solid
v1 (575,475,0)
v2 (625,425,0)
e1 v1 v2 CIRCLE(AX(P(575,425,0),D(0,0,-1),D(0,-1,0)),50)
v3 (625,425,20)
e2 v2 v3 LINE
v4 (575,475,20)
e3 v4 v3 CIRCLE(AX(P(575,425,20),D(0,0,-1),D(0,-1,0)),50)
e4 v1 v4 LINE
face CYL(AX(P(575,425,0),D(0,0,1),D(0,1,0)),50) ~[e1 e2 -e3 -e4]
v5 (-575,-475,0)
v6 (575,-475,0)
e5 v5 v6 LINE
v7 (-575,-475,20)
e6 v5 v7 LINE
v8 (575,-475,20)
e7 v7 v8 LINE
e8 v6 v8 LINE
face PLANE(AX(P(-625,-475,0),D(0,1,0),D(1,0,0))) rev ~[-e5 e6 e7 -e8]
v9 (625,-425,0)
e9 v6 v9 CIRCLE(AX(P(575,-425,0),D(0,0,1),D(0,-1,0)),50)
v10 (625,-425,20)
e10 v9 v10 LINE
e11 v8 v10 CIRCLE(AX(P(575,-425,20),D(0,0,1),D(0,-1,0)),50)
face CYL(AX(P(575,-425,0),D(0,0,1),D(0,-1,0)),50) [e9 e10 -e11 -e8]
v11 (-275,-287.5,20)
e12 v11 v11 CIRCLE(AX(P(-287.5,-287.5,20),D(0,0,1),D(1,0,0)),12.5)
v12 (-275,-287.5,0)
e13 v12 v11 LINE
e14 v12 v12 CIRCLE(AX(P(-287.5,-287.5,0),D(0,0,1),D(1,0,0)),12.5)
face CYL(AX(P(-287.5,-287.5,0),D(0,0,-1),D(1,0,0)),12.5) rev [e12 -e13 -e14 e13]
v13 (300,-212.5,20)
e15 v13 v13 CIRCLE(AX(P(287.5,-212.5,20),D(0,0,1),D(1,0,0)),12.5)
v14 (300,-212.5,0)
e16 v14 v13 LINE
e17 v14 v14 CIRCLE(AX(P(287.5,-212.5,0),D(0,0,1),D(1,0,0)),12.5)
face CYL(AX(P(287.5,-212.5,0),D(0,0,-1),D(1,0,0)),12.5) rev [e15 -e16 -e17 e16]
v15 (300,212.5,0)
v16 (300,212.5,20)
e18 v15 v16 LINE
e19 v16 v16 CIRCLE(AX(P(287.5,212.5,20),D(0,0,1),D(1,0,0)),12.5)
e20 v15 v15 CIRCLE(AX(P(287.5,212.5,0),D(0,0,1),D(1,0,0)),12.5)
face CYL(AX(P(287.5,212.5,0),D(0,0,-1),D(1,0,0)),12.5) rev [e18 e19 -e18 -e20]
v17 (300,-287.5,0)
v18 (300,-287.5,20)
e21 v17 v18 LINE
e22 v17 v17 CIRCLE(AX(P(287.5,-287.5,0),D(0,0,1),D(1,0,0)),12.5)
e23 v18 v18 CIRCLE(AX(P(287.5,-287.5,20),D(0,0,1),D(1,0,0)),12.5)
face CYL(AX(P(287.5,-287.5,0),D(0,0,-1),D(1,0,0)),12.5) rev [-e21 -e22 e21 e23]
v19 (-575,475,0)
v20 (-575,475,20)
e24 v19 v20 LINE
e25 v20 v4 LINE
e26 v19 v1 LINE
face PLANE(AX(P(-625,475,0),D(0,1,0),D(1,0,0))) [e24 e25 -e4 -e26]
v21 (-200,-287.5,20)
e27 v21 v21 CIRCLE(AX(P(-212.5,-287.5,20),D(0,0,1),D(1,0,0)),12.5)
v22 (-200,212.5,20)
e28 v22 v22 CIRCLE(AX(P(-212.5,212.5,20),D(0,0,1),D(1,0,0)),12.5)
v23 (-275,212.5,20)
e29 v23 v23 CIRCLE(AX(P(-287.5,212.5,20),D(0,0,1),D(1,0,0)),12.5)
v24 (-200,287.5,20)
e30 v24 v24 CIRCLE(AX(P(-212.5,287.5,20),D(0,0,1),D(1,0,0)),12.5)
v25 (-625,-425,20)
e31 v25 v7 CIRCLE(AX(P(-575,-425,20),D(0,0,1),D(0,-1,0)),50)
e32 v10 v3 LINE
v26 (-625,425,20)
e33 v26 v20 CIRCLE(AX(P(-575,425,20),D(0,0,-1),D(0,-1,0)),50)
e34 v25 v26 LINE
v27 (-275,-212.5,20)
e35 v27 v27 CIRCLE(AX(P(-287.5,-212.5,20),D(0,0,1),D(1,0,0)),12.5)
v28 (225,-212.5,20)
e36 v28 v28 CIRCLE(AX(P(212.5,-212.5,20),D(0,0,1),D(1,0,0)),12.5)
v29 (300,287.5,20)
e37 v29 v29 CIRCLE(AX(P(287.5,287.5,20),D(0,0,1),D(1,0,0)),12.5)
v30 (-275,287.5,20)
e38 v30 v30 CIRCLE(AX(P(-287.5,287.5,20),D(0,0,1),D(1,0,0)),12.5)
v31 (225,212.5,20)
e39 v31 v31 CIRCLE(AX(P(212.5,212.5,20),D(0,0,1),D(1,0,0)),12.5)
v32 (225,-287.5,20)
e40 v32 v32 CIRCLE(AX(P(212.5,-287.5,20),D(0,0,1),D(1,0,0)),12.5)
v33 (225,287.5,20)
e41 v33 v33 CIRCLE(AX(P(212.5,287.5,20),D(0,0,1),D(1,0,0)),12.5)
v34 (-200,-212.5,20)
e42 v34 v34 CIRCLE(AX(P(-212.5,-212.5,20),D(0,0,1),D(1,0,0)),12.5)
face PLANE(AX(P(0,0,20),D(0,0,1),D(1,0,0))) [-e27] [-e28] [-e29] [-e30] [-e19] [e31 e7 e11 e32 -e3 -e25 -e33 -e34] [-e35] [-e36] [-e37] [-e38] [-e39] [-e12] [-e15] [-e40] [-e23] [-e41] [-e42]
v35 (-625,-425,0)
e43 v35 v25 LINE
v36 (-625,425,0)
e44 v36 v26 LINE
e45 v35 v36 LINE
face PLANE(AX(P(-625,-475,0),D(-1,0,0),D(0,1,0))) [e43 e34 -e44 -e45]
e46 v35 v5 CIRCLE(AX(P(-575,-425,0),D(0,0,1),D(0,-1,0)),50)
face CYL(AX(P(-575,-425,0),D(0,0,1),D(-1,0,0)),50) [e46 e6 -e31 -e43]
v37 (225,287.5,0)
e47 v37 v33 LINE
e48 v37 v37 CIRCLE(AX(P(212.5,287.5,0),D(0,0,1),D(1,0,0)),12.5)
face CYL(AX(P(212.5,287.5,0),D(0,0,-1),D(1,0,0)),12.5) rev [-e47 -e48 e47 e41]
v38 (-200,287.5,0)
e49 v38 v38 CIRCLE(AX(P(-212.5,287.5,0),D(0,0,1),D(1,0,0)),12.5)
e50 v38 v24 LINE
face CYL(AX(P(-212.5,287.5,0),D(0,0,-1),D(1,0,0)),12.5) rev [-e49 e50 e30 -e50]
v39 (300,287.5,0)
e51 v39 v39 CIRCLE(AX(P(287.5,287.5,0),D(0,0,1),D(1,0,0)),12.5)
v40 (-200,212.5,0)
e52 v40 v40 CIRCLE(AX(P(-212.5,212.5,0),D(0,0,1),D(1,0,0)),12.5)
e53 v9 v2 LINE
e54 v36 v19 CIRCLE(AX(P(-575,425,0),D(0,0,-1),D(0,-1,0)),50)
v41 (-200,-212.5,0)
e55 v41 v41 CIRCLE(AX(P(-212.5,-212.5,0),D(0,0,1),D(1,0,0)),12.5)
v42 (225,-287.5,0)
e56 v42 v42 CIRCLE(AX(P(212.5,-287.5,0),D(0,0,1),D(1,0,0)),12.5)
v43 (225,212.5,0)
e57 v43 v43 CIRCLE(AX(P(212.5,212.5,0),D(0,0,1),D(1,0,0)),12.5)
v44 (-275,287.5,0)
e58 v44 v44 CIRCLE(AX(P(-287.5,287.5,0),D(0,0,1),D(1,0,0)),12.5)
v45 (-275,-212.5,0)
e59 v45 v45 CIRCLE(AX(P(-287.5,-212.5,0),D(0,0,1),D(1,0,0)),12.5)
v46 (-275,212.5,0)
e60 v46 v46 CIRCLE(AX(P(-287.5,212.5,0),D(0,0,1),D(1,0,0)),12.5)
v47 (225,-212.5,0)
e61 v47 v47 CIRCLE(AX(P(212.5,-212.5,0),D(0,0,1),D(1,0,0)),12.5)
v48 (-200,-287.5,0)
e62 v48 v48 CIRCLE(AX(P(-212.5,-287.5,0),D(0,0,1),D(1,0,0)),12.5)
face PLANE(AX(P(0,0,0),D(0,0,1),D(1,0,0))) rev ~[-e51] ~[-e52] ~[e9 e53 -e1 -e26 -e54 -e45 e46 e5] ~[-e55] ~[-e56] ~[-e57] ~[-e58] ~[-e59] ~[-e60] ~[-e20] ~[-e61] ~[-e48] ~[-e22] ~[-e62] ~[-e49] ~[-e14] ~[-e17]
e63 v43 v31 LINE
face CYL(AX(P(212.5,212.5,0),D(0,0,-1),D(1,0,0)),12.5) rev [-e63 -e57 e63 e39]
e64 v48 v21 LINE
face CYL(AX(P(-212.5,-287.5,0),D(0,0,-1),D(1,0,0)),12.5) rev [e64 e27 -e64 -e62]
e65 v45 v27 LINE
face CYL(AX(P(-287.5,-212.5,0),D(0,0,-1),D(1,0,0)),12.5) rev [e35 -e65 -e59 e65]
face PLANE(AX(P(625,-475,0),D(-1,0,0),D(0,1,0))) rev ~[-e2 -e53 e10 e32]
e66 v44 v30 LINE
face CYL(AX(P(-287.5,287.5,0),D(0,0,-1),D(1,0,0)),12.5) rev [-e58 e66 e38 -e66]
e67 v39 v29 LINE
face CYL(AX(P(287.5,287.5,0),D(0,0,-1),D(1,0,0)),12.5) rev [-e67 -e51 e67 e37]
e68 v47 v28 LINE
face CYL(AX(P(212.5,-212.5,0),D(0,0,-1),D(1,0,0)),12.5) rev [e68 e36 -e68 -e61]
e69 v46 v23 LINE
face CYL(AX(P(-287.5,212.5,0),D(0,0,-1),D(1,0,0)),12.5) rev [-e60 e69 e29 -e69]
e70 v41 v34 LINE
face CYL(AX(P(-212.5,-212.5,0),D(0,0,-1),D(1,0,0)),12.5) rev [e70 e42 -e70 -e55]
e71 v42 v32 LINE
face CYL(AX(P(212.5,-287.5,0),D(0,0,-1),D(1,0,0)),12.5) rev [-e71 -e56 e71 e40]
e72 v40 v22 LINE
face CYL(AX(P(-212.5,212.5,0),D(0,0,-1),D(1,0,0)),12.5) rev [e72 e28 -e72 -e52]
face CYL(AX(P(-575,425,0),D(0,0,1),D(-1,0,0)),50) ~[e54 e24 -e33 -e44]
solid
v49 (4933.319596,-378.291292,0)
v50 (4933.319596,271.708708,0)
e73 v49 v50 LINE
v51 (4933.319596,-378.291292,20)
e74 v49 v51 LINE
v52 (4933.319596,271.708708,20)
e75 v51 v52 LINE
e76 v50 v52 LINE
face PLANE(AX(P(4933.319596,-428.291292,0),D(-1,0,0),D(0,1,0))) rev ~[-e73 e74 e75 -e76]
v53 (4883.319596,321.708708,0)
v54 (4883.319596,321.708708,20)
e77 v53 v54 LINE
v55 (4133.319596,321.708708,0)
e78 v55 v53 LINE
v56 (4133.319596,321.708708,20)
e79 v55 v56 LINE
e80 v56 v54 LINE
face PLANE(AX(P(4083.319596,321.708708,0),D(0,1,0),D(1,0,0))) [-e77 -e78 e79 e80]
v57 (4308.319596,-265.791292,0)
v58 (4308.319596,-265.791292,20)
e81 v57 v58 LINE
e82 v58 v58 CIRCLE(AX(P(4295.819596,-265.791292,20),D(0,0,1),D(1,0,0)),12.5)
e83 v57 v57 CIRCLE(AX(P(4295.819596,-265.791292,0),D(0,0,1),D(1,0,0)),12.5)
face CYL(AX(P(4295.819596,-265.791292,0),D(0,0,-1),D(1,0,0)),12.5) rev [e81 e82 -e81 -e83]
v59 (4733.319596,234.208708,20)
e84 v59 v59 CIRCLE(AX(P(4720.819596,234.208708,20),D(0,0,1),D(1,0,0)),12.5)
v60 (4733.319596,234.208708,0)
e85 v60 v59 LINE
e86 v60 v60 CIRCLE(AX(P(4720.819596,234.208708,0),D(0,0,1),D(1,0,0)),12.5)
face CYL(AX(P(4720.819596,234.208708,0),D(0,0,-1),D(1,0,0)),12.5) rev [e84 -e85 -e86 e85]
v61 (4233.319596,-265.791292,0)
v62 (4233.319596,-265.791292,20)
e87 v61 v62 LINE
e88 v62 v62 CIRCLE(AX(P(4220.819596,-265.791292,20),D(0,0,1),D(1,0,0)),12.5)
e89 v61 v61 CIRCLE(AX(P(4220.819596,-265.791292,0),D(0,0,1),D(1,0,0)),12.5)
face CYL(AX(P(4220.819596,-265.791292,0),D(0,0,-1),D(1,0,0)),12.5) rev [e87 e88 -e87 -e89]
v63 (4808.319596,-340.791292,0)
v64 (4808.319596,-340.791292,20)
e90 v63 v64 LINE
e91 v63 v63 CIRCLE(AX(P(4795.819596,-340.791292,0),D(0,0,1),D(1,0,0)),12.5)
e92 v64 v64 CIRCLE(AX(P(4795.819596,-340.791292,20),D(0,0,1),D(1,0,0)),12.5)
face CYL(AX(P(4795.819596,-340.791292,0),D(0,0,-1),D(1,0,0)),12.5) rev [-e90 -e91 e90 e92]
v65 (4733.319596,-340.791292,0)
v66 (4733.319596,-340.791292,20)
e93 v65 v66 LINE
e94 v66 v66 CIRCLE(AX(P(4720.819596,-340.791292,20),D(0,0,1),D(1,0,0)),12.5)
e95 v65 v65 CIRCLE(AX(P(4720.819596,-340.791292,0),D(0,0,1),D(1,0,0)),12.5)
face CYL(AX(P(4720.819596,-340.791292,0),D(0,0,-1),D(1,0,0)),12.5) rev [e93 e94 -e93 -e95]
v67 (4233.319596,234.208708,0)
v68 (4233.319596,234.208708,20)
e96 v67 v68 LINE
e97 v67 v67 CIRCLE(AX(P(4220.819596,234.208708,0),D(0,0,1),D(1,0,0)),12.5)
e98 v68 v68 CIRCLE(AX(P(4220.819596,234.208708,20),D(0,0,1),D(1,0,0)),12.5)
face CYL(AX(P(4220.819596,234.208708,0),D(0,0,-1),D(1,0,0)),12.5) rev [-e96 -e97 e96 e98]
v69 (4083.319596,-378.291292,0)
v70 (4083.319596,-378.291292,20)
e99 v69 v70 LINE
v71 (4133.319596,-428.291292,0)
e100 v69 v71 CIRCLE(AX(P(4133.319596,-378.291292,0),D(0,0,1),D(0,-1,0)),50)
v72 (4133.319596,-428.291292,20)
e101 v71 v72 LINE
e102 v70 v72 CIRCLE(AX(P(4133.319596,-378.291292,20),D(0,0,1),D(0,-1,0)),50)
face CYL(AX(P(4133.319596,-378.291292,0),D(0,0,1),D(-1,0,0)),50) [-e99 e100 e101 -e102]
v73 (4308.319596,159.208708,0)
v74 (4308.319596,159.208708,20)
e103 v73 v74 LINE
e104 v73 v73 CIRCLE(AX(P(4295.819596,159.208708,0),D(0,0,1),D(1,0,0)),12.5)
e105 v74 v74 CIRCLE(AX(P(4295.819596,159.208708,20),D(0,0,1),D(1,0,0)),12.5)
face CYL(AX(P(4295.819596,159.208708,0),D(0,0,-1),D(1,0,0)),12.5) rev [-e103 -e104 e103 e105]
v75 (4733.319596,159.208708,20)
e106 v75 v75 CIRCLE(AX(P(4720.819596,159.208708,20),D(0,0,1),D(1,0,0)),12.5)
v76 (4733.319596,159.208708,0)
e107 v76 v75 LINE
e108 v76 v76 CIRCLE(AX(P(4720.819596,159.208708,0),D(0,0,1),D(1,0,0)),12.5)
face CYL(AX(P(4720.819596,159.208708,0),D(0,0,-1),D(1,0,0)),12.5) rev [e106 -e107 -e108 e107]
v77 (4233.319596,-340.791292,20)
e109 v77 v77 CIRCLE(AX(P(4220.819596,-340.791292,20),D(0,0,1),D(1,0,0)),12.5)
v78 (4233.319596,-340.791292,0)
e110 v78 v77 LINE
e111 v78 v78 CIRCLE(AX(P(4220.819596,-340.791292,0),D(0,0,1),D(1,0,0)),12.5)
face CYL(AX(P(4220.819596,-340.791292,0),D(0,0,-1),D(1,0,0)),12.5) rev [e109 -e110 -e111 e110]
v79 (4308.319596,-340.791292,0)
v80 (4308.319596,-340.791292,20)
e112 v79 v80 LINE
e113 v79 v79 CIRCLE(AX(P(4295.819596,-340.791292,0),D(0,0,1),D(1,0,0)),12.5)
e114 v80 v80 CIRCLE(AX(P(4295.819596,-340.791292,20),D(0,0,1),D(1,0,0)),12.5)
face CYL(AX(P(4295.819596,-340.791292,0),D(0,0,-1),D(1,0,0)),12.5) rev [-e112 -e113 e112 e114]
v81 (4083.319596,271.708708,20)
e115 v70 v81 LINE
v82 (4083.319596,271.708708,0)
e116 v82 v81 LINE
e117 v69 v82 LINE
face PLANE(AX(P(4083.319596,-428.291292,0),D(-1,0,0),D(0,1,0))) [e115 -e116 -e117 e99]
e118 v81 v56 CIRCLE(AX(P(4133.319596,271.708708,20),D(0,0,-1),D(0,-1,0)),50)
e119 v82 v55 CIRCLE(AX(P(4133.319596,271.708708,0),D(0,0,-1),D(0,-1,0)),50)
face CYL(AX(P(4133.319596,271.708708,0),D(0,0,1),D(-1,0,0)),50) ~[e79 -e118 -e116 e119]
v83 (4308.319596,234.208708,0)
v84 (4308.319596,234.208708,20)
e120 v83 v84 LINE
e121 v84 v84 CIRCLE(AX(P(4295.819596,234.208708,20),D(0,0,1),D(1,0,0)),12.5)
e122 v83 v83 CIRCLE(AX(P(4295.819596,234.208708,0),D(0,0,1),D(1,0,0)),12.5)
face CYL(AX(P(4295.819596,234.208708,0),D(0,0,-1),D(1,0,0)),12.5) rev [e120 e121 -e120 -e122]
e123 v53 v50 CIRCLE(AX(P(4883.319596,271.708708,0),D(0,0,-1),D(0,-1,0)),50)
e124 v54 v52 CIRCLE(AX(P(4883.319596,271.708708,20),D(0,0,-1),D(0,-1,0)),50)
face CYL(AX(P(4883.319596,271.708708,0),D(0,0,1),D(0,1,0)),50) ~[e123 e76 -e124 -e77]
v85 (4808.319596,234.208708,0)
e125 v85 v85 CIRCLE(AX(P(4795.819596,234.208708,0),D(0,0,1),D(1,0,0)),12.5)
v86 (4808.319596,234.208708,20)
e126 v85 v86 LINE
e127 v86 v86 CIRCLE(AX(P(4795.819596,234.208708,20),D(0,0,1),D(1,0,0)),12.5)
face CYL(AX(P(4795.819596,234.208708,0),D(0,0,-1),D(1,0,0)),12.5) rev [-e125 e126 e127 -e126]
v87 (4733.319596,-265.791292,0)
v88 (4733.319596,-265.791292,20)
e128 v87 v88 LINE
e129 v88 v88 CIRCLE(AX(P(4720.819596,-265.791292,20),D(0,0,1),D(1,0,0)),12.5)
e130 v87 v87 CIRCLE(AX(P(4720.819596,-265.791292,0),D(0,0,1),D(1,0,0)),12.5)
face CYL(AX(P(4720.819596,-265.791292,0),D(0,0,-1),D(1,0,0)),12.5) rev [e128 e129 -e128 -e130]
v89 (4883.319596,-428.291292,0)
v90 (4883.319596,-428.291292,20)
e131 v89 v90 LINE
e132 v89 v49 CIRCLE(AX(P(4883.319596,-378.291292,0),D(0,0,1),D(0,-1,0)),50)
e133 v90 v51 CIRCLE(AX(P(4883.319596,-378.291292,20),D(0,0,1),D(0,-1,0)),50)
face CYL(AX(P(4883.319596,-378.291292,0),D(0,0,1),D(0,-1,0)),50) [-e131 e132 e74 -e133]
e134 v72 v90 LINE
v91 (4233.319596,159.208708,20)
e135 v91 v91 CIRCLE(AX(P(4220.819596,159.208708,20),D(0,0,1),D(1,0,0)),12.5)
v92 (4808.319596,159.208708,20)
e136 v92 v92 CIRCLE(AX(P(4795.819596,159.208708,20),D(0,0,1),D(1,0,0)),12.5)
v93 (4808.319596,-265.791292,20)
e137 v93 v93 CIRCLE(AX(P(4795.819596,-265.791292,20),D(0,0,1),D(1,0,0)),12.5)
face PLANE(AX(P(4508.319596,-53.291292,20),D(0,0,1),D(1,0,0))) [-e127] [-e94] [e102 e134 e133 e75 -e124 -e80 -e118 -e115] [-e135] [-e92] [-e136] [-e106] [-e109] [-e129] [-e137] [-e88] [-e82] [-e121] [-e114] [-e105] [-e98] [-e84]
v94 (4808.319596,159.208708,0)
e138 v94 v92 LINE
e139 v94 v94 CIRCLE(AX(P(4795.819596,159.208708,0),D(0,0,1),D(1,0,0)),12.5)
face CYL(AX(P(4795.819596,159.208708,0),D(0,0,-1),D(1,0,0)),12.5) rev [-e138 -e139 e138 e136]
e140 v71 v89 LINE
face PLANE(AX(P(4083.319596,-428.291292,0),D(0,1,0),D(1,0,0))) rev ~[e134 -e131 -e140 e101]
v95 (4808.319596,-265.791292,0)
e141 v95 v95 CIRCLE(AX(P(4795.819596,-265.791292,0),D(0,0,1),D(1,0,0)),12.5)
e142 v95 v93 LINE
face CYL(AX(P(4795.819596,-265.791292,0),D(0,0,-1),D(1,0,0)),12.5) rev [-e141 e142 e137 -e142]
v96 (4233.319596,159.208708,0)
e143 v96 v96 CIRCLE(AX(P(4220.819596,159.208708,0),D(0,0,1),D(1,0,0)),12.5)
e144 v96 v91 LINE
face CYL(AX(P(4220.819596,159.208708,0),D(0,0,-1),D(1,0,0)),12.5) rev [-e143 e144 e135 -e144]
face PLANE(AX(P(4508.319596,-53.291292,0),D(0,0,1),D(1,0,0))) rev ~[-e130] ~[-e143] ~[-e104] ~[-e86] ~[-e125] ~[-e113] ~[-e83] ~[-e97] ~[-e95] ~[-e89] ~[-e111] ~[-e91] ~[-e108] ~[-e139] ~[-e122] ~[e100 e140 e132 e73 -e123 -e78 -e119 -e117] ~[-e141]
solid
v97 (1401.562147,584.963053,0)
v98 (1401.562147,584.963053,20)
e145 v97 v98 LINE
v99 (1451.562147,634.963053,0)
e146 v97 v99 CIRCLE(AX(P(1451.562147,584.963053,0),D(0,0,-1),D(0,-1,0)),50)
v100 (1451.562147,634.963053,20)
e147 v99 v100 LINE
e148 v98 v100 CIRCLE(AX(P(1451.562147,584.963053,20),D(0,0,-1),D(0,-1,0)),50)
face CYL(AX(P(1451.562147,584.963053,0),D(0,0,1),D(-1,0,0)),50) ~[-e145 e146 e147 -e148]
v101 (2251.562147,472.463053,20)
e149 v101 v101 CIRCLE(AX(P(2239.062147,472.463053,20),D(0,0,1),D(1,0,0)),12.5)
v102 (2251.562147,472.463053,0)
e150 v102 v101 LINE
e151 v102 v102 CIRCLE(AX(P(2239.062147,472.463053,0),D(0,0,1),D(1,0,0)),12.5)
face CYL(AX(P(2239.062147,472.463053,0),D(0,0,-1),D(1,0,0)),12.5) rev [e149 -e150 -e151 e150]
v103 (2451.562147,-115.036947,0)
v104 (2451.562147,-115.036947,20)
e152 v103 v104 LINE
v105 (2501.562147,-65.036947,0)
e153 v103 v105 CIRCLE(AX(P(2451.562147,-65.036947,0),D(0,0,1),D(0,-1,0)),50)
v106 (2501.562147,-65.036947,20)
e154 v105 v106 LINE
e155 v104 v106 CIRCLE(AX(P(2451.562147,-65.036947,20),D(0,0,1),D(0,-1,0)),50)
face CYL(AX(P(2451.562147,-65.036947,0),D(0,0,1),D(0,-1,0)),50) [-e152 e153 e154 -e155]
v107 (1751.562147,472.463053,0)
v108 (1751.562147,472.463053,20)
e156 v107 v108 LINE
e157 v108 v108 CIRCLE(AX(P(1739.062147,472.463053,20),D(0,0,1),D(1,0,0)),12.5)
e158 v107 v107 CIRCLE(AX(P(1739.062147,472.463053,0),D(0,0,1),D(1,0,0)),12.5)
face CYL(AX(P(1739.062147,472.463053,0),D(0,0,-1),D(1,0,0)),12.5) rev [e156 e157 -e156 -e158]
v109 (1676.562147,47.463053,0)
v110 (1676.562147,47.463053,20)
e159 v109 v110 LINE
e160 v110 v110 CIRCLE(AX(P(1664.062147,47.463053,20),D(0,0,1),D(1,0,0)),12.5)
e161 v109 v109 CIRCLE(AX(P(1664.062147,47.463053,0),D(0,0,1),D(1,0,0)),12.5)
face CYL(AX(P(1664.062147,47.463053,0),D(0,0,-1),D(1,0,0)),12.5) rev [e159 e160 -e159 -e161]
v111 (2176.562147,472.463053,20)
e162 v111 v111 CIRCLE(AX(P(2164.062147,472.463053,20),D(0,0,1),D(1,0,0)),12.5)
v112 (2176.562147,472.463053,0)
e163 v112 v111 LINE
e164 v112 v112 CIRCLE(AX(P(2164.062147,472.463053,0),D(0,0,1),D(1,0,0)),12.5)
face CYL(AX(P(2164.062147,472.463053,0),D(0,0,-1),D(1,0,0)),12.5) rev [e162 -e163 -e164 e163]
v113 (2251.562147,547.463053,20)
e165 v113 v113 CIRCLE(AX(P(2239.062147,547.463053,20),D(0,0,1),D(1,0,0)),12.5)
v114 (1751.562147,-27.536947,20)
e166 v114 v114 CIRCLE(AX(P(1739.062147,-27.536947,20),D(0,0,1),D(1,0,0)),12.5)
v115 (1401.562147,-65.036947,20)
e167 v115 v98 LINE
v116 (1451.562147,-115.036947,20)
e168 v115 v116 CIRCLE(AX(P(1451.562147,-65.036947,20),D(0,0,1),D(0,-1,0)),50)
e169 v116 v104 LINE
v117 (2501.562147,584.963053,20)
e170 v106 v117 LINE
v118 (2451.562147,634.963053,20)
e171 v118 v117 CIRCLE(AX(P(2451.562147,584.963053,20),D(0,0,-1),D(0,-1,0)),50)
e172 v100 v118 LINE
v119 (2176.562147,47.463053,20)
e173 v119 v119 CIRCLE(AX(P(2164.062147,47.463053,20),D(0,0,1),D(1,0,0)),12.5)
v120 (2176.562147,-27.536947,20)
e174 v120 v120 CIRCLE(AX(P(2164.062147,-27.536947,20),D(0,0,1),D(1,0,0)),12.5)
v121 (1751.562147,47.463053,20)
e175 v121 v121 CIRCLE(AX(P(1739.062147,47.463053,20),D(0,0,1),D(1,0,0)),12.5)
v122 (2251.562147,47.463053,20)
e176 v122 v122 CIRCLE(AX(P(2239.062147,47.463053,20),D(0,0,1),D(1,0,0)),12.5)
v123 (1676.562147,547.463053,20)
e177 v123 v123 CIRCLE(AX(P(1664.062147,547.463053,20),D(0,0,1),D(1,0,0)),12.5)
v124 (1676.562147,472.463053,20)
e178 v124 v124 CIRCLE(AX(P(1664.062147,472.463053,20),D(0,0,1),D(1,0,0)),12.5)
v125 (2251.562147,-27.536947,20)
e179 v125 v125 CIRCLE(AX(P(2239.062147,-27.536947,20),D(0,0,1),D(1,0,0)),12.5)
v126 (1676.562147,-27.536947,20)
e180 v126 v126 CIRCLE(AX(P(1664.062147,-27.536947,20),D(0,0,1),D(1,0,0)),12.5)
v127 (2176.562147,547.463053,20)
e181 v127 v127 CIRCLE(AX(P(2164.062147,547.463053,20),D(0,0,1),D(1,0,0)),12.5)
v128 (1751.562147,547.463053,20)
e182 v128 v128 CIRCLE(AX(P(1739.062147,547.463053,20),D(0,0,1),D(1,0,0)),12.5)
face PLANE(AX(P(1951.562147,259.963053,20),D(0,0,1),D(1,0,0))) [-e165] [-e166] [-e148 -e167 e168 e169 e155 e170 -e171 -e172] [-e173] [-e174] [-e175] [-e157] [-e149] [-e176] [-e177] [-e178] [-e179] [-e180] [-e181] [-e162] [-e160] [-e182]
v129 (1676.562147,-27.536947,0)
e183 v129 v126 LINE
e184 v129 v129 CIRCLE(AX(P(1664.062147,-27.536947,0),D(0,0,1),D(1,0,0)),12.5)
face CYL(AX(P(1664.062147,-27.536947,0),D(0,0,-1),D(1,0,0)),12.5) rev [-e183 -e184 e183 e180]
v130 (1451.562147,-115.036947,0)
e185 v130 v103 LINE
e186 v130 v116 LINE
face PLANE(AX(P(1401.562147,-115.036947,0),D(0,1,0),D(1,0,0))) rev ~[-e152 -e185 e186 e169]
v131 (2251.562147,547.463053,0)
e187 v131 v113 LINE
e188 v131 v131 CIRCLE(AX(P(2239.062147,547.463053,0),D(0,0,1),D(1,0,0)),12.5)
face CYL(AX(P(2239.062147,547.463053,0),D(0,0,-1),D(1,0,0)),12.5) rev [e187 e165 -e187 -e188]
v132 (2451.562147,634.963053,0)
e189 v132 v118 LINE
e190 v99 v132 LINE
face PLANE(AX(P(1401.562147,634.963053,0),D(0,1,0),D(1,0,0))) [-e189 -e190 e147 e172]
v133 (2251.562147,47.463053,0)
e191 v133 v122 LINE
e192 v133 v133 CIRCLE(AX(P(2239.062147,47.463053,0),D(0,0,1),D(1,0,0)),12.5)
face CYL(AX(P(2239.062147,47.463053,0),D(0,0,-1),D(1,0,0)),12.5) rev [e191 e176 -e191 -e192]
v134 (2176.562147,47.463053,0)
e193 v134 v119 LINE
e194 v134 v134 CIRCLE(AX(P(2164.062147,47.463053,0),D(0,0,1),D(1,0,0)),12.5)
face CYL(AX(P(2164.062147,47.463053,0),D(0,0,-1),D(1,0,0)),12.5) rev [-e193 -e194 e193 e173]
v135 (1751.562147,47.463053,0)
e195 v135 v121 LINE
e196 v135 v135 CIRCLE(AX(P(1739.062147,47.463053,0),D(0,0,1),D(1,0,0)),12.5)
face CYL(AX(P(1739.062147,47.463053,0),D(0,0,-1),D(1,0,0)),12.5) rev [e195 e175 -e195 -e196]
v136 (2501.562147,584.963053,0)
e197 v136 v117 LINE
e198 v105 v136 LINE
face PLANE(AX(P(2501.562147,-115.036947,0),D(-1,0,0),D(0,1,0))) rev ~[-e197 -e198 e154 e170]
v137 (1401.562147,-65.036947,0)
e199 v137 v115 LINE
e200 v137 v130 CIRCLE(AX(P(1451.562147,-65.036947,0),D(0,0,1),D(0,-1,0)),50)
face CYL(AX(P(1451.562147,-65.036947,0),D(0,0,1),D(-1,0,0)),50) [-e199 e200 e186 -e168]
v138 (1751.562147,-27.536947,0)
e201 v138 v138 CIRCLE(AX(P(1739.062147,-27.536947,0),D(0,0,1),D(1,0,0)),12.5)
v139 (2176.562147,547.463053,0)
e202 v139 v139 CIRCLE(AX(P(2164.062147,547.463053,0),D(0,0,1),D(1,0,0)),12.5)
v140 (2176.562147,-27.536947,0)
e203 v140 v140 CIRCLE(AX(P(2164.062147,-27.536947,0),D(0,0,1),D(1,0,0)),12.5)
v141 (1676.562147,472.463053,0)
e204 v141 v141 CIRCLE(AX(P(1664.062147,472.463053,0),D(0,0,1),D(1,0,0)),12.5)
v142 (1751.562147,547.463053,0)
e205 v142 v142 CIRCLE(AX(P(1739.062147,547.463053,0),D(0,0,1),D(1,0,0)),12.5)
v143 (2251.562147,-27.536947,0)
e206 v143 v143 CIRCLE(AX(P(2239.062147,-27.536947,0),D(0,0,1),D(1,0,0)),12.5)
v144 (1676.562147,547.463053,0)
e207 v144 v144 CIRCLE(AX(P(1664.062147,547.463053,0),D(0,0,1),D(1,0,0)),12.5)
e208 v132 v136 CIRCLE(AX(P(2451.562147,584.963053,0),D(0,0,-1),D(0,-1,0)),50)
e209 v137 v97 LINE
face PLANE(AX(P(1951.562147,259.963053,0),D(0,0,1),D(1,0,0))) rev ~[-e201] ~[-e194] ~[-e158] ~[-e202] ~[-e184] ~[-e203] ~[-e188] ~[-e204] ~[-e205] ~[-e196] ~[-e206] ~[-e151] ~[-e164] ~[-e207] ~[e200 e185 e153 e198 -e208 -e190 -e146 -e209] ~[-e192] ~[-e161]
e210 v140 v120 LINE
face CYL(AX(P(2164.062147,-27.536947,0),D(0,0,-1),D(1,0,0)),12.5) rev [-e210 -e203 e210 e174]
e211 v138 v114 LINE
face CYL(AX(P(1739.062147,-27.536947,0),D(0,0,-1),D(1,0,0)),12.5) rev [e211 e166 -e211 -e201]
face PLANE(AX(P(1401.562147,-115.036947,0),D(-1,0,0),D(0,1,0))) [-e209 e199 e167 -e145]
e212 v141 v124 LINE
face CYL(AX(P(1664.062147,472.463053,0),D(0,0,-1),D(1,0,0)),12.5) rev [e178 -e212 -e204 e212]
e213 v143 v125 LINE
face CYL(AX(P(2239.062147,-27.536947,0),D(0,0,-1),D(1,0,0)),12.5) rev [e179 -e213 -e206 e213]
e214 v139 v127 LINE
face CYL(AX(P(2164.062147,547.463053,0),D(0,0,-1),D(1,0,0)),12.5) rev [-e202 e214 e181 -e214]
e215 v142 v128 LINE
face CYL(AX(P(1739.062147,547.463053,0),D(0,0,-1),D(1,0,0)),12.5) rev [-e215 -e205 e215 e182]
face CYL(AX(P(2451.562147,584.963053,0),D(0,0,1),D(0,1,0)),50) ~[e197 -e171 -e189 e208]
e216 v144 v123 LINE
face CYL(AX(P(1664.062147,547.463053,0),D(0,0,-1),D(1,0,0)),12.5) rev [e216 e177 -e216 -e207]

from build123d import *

# Parameters (mm, degrees)
F0_W     = 1250
F0_H     = 950
F0_R     = 12.5
F1_DEPTH = 20
F2_R     = 50
F3_W     = 1100
F3_H     = 750
F3_R     = 12.5
F4_DEPTH = 20
F5_R     = 50
F6_W     = 850
F6_H     = 750
F6_R     = 12.5
F7_DEPTH = 20
F8_R     = 50


with BuildPart() as f1:
    # F0 (on Top) → F1 (new body)
    with BuildSketch(Plane.XY):
        Rectangle(F0_W, F0_H)
        with Locations((-287.5, -287.5)):
            Circle(F0_R, mode=Mode.SUBTRACT)
        with Locations((-212.5, -287.5)):
            Circle(F0_R, mode=Mode.SUBTRACT)
        with Locations((-287.5, -212.5)):
            Circle(F0_R, mode=Mode.SUBTRACT)
        with Locations((-212.5, -212.5)):
            Circle(F0_R, mode=Mode.SUBTRACT)
        with Locations((212.5, -287.5)):
            Circle(F0_R, mode=Mode.SUBTRACT)
        with Locations((287.5, -287.5)):
            Circle(F0_R, mode=Mode.SUBTRACT)
        with Locations((212.5, -212.5)):
            Circle(F0_R, mode=Mode.SUBTRACT)
        with Locations((287.5, -212.5)):
            Circle(F0_R, mode=Mode.SUBTRACT)
        with Locations((-287.5, 212.5)):
            Circle(F0_R, mode=Mode.SUBTRACT)
        with Locations((-212.5, 212.5)):
            Circle(F0_R, mode=Mode.SUBTRACT)
        with Locations((-287.5, 287.5)):
            Circle(F0_R, mode=Mode.SUBTRACT)
        with Locations((-212.5, 287.5)):
            Circle(F0_R, mode=Mode.SUBTRACT)
        with Locations((212.5, 212.5)):
            Circle(F0_R, mode=Mode.SUBTRACT)
        with Locations((287.5, 212.5)):
            Circle(F0_R, mode=Mode.SUBTRACT)
        with Locations((212.5, 287.5)):
            Circle(F0_R, mode=Mode.SUBTRACT)
        with Locations((287.5, 287.5)):
            Circle(F0_R, mode=Mode.SUBTRACT)
    extrude(amount=F1_DEPTH)

    # F2
    f2_edges = [f1.edges().sort_by_distance(p)[0] for p in [
        (-625, 475, 10),
        (625, 475, 10),
        (-625, -475, 10),
        (625, -475, 10),
    ]]
    fillet(f2_edges, radius=F2_R)


with BuildPart() as f4:
    # F3 (on Top) → F4 (new body)
    with BuildSketch(Plane.XY):
        with Locations((1951.562147, 259.963053)):
            Rectangle(F3_W, F3_H)
        with Locations((1664.062147, -27.536947)):
            Circle(F3_R, mode=Mode.SUBTRACT)
        with Locations((1664.062147, 47.463053)):
            Circle(F3_R, mode=Mode.SUBTRACT)
        with Locations((1739.062147, -27.536947)):
            Circle(F3_R, mode=Mode.SUBTRACT)
        with Locations((1739.062147, 47.463053)):
            Circle(F3_R, mode=Mode.SUBTRACT)
        with Locations((2164.062147, -27.536947)):
            Circle(F3_R, mode=Mode.SUBTRACT)
        with Locations((2164.062147, 47.463053)):
            Circle(F3_R, mode=Mode.SUBTRACT)
        with Locations((2239.062147, -27.536947)):
            Circle(F3_R, mode=Mode.SUBTRACT)
        with Locations((2239.062147, 47.463053)):
            Circle(F3_R, mode=Mode.SUBTRACT)
        with Locations((1664.062147, 472.463053)):
            Circle(F3_R, mode=Mode.SUBTRACT)
        with Locations((1664.062147, 547.463053)):
            Circle(F3_R, mode=Mode.SUBTRACT)
        with Locations((1739.062147, 472.463053)):
            Circle(F3_R, mode=Mode.SUBTRACT)
        with Locations((1739.062147, 547.463053)):
            Circle(F3_R, mode=Mode.SUBTRACT)
        with Locations((2164.062147, 472.463053)):
            Circle(F3_R, mode=Mode.SUBTRACT)
        with Locations((2164.062147, 547.463053)):
            Circle(F3_R, mode=Mode.SUBTRACT)
        with Locations((2239.062147, 472.463053)):
            Circle(F3_R, mode=Mode.SUBTRACT)
        with Locations((2239.062147, 547.463053)):
            Circle(F3_R, mode=Mode.SUBTRACT)
    extrude(amount=F4_DEPTH)

    # F5
    f5_edges = [f4.edges().sort_by_distance(p)[0] for p in [
        (1401.562147, 634.963053, 10),
        (1401.562147, -115.036947, 10),
        (2501.562147, 634.963053, 10),
        (2501.562147, -115.036947, 10),
    ]]
    fillet(f5_edges, radius=F5_R)


with BuildPart() as f7:
    # F6 (on Top) → F7 (new body)
    with BuildSketch(Plane.XY):
        with Locations((4508.319596, -53.291292)):
            Rectangle(F6_W, F6_H)
        with Locations((4220.819596, -340.791292)):
            Circle(F6_R, mode=Mode.SUBTRACT)
        with Locations((4220.819596, -265.791292)):
            Circle(F6_R, mode=Mode.SUBTRACT)
        with Locations((4295.819596, -340.791292)):
            Circle(F6_R, mode=Mode.SUBTRACT)
        with Locations((4295.819596, -265.791292)):
            Circle(F6_R, mode=Mode.SUBTRACT)
        with Locations((4720.819596, -340.791292)):
            Circle(F6_R, mode=Mode.SUBTRACT)
        with Locations((4795.819596, -340.791292)):
            Circle(F6_R, mode=Mode.SUBTRACT)
        with Locations((4720.819596, -265.791292)):
            Circle(F6_R, mode=Mode.SUBTRACT)
        with Locations((4795.819596, -265.791292)):
            Circle(F6_R, mode=Mode.SUBTRACT)
        with Locations((4220.819596, 159.208708)):
            Circle(F6_R, mode=Mode.SUBTRACT)
        with Locations((4220.819596, 234.208708)):
            Circle(F6_R, mode=Mode.SUBTRACT)
        with Locations((4295.819596, 159.208708)):
            Circle(F6_R, mode=Mode.SUBTRACT)
        with Locations((4295.819596, 234.208708)):
            Circle(F6_R, mode=Mode.SUBTRACT)
        with Locations((4720.819596, 159.208708)):
            Circle(F6_R, mode=Mode.SUBTRACT)
        with Locations((4795.819596, 159.208708)):
            Circle(F6_R, mode=Mode.SUBTRACT)
        with Locations((4720.819596, 234.208708)):
            Circle(F6_R, mode=Mode.SUBTRACT)
        with Locations((4795.819596, 234.208708)):
            Circle(F6_R, mode=Mode.SUBTRACT)
    extrude(amount=F7_DEPTH)

    # F8
    f8_edges = [f7.edges().sort_by_distance(p)[0] for p in [
        (4083.319596, 321.708708, 10),
        (4933.319596, 321.708708, 10),
        (4933.319596, -428.291292, 10),
        (4083.319596, -428.291292, 10),
    ]]
    fillet(f8_edges, radius=F8_R)


solid = Compound([f1.part, f4.part, f7.part])
